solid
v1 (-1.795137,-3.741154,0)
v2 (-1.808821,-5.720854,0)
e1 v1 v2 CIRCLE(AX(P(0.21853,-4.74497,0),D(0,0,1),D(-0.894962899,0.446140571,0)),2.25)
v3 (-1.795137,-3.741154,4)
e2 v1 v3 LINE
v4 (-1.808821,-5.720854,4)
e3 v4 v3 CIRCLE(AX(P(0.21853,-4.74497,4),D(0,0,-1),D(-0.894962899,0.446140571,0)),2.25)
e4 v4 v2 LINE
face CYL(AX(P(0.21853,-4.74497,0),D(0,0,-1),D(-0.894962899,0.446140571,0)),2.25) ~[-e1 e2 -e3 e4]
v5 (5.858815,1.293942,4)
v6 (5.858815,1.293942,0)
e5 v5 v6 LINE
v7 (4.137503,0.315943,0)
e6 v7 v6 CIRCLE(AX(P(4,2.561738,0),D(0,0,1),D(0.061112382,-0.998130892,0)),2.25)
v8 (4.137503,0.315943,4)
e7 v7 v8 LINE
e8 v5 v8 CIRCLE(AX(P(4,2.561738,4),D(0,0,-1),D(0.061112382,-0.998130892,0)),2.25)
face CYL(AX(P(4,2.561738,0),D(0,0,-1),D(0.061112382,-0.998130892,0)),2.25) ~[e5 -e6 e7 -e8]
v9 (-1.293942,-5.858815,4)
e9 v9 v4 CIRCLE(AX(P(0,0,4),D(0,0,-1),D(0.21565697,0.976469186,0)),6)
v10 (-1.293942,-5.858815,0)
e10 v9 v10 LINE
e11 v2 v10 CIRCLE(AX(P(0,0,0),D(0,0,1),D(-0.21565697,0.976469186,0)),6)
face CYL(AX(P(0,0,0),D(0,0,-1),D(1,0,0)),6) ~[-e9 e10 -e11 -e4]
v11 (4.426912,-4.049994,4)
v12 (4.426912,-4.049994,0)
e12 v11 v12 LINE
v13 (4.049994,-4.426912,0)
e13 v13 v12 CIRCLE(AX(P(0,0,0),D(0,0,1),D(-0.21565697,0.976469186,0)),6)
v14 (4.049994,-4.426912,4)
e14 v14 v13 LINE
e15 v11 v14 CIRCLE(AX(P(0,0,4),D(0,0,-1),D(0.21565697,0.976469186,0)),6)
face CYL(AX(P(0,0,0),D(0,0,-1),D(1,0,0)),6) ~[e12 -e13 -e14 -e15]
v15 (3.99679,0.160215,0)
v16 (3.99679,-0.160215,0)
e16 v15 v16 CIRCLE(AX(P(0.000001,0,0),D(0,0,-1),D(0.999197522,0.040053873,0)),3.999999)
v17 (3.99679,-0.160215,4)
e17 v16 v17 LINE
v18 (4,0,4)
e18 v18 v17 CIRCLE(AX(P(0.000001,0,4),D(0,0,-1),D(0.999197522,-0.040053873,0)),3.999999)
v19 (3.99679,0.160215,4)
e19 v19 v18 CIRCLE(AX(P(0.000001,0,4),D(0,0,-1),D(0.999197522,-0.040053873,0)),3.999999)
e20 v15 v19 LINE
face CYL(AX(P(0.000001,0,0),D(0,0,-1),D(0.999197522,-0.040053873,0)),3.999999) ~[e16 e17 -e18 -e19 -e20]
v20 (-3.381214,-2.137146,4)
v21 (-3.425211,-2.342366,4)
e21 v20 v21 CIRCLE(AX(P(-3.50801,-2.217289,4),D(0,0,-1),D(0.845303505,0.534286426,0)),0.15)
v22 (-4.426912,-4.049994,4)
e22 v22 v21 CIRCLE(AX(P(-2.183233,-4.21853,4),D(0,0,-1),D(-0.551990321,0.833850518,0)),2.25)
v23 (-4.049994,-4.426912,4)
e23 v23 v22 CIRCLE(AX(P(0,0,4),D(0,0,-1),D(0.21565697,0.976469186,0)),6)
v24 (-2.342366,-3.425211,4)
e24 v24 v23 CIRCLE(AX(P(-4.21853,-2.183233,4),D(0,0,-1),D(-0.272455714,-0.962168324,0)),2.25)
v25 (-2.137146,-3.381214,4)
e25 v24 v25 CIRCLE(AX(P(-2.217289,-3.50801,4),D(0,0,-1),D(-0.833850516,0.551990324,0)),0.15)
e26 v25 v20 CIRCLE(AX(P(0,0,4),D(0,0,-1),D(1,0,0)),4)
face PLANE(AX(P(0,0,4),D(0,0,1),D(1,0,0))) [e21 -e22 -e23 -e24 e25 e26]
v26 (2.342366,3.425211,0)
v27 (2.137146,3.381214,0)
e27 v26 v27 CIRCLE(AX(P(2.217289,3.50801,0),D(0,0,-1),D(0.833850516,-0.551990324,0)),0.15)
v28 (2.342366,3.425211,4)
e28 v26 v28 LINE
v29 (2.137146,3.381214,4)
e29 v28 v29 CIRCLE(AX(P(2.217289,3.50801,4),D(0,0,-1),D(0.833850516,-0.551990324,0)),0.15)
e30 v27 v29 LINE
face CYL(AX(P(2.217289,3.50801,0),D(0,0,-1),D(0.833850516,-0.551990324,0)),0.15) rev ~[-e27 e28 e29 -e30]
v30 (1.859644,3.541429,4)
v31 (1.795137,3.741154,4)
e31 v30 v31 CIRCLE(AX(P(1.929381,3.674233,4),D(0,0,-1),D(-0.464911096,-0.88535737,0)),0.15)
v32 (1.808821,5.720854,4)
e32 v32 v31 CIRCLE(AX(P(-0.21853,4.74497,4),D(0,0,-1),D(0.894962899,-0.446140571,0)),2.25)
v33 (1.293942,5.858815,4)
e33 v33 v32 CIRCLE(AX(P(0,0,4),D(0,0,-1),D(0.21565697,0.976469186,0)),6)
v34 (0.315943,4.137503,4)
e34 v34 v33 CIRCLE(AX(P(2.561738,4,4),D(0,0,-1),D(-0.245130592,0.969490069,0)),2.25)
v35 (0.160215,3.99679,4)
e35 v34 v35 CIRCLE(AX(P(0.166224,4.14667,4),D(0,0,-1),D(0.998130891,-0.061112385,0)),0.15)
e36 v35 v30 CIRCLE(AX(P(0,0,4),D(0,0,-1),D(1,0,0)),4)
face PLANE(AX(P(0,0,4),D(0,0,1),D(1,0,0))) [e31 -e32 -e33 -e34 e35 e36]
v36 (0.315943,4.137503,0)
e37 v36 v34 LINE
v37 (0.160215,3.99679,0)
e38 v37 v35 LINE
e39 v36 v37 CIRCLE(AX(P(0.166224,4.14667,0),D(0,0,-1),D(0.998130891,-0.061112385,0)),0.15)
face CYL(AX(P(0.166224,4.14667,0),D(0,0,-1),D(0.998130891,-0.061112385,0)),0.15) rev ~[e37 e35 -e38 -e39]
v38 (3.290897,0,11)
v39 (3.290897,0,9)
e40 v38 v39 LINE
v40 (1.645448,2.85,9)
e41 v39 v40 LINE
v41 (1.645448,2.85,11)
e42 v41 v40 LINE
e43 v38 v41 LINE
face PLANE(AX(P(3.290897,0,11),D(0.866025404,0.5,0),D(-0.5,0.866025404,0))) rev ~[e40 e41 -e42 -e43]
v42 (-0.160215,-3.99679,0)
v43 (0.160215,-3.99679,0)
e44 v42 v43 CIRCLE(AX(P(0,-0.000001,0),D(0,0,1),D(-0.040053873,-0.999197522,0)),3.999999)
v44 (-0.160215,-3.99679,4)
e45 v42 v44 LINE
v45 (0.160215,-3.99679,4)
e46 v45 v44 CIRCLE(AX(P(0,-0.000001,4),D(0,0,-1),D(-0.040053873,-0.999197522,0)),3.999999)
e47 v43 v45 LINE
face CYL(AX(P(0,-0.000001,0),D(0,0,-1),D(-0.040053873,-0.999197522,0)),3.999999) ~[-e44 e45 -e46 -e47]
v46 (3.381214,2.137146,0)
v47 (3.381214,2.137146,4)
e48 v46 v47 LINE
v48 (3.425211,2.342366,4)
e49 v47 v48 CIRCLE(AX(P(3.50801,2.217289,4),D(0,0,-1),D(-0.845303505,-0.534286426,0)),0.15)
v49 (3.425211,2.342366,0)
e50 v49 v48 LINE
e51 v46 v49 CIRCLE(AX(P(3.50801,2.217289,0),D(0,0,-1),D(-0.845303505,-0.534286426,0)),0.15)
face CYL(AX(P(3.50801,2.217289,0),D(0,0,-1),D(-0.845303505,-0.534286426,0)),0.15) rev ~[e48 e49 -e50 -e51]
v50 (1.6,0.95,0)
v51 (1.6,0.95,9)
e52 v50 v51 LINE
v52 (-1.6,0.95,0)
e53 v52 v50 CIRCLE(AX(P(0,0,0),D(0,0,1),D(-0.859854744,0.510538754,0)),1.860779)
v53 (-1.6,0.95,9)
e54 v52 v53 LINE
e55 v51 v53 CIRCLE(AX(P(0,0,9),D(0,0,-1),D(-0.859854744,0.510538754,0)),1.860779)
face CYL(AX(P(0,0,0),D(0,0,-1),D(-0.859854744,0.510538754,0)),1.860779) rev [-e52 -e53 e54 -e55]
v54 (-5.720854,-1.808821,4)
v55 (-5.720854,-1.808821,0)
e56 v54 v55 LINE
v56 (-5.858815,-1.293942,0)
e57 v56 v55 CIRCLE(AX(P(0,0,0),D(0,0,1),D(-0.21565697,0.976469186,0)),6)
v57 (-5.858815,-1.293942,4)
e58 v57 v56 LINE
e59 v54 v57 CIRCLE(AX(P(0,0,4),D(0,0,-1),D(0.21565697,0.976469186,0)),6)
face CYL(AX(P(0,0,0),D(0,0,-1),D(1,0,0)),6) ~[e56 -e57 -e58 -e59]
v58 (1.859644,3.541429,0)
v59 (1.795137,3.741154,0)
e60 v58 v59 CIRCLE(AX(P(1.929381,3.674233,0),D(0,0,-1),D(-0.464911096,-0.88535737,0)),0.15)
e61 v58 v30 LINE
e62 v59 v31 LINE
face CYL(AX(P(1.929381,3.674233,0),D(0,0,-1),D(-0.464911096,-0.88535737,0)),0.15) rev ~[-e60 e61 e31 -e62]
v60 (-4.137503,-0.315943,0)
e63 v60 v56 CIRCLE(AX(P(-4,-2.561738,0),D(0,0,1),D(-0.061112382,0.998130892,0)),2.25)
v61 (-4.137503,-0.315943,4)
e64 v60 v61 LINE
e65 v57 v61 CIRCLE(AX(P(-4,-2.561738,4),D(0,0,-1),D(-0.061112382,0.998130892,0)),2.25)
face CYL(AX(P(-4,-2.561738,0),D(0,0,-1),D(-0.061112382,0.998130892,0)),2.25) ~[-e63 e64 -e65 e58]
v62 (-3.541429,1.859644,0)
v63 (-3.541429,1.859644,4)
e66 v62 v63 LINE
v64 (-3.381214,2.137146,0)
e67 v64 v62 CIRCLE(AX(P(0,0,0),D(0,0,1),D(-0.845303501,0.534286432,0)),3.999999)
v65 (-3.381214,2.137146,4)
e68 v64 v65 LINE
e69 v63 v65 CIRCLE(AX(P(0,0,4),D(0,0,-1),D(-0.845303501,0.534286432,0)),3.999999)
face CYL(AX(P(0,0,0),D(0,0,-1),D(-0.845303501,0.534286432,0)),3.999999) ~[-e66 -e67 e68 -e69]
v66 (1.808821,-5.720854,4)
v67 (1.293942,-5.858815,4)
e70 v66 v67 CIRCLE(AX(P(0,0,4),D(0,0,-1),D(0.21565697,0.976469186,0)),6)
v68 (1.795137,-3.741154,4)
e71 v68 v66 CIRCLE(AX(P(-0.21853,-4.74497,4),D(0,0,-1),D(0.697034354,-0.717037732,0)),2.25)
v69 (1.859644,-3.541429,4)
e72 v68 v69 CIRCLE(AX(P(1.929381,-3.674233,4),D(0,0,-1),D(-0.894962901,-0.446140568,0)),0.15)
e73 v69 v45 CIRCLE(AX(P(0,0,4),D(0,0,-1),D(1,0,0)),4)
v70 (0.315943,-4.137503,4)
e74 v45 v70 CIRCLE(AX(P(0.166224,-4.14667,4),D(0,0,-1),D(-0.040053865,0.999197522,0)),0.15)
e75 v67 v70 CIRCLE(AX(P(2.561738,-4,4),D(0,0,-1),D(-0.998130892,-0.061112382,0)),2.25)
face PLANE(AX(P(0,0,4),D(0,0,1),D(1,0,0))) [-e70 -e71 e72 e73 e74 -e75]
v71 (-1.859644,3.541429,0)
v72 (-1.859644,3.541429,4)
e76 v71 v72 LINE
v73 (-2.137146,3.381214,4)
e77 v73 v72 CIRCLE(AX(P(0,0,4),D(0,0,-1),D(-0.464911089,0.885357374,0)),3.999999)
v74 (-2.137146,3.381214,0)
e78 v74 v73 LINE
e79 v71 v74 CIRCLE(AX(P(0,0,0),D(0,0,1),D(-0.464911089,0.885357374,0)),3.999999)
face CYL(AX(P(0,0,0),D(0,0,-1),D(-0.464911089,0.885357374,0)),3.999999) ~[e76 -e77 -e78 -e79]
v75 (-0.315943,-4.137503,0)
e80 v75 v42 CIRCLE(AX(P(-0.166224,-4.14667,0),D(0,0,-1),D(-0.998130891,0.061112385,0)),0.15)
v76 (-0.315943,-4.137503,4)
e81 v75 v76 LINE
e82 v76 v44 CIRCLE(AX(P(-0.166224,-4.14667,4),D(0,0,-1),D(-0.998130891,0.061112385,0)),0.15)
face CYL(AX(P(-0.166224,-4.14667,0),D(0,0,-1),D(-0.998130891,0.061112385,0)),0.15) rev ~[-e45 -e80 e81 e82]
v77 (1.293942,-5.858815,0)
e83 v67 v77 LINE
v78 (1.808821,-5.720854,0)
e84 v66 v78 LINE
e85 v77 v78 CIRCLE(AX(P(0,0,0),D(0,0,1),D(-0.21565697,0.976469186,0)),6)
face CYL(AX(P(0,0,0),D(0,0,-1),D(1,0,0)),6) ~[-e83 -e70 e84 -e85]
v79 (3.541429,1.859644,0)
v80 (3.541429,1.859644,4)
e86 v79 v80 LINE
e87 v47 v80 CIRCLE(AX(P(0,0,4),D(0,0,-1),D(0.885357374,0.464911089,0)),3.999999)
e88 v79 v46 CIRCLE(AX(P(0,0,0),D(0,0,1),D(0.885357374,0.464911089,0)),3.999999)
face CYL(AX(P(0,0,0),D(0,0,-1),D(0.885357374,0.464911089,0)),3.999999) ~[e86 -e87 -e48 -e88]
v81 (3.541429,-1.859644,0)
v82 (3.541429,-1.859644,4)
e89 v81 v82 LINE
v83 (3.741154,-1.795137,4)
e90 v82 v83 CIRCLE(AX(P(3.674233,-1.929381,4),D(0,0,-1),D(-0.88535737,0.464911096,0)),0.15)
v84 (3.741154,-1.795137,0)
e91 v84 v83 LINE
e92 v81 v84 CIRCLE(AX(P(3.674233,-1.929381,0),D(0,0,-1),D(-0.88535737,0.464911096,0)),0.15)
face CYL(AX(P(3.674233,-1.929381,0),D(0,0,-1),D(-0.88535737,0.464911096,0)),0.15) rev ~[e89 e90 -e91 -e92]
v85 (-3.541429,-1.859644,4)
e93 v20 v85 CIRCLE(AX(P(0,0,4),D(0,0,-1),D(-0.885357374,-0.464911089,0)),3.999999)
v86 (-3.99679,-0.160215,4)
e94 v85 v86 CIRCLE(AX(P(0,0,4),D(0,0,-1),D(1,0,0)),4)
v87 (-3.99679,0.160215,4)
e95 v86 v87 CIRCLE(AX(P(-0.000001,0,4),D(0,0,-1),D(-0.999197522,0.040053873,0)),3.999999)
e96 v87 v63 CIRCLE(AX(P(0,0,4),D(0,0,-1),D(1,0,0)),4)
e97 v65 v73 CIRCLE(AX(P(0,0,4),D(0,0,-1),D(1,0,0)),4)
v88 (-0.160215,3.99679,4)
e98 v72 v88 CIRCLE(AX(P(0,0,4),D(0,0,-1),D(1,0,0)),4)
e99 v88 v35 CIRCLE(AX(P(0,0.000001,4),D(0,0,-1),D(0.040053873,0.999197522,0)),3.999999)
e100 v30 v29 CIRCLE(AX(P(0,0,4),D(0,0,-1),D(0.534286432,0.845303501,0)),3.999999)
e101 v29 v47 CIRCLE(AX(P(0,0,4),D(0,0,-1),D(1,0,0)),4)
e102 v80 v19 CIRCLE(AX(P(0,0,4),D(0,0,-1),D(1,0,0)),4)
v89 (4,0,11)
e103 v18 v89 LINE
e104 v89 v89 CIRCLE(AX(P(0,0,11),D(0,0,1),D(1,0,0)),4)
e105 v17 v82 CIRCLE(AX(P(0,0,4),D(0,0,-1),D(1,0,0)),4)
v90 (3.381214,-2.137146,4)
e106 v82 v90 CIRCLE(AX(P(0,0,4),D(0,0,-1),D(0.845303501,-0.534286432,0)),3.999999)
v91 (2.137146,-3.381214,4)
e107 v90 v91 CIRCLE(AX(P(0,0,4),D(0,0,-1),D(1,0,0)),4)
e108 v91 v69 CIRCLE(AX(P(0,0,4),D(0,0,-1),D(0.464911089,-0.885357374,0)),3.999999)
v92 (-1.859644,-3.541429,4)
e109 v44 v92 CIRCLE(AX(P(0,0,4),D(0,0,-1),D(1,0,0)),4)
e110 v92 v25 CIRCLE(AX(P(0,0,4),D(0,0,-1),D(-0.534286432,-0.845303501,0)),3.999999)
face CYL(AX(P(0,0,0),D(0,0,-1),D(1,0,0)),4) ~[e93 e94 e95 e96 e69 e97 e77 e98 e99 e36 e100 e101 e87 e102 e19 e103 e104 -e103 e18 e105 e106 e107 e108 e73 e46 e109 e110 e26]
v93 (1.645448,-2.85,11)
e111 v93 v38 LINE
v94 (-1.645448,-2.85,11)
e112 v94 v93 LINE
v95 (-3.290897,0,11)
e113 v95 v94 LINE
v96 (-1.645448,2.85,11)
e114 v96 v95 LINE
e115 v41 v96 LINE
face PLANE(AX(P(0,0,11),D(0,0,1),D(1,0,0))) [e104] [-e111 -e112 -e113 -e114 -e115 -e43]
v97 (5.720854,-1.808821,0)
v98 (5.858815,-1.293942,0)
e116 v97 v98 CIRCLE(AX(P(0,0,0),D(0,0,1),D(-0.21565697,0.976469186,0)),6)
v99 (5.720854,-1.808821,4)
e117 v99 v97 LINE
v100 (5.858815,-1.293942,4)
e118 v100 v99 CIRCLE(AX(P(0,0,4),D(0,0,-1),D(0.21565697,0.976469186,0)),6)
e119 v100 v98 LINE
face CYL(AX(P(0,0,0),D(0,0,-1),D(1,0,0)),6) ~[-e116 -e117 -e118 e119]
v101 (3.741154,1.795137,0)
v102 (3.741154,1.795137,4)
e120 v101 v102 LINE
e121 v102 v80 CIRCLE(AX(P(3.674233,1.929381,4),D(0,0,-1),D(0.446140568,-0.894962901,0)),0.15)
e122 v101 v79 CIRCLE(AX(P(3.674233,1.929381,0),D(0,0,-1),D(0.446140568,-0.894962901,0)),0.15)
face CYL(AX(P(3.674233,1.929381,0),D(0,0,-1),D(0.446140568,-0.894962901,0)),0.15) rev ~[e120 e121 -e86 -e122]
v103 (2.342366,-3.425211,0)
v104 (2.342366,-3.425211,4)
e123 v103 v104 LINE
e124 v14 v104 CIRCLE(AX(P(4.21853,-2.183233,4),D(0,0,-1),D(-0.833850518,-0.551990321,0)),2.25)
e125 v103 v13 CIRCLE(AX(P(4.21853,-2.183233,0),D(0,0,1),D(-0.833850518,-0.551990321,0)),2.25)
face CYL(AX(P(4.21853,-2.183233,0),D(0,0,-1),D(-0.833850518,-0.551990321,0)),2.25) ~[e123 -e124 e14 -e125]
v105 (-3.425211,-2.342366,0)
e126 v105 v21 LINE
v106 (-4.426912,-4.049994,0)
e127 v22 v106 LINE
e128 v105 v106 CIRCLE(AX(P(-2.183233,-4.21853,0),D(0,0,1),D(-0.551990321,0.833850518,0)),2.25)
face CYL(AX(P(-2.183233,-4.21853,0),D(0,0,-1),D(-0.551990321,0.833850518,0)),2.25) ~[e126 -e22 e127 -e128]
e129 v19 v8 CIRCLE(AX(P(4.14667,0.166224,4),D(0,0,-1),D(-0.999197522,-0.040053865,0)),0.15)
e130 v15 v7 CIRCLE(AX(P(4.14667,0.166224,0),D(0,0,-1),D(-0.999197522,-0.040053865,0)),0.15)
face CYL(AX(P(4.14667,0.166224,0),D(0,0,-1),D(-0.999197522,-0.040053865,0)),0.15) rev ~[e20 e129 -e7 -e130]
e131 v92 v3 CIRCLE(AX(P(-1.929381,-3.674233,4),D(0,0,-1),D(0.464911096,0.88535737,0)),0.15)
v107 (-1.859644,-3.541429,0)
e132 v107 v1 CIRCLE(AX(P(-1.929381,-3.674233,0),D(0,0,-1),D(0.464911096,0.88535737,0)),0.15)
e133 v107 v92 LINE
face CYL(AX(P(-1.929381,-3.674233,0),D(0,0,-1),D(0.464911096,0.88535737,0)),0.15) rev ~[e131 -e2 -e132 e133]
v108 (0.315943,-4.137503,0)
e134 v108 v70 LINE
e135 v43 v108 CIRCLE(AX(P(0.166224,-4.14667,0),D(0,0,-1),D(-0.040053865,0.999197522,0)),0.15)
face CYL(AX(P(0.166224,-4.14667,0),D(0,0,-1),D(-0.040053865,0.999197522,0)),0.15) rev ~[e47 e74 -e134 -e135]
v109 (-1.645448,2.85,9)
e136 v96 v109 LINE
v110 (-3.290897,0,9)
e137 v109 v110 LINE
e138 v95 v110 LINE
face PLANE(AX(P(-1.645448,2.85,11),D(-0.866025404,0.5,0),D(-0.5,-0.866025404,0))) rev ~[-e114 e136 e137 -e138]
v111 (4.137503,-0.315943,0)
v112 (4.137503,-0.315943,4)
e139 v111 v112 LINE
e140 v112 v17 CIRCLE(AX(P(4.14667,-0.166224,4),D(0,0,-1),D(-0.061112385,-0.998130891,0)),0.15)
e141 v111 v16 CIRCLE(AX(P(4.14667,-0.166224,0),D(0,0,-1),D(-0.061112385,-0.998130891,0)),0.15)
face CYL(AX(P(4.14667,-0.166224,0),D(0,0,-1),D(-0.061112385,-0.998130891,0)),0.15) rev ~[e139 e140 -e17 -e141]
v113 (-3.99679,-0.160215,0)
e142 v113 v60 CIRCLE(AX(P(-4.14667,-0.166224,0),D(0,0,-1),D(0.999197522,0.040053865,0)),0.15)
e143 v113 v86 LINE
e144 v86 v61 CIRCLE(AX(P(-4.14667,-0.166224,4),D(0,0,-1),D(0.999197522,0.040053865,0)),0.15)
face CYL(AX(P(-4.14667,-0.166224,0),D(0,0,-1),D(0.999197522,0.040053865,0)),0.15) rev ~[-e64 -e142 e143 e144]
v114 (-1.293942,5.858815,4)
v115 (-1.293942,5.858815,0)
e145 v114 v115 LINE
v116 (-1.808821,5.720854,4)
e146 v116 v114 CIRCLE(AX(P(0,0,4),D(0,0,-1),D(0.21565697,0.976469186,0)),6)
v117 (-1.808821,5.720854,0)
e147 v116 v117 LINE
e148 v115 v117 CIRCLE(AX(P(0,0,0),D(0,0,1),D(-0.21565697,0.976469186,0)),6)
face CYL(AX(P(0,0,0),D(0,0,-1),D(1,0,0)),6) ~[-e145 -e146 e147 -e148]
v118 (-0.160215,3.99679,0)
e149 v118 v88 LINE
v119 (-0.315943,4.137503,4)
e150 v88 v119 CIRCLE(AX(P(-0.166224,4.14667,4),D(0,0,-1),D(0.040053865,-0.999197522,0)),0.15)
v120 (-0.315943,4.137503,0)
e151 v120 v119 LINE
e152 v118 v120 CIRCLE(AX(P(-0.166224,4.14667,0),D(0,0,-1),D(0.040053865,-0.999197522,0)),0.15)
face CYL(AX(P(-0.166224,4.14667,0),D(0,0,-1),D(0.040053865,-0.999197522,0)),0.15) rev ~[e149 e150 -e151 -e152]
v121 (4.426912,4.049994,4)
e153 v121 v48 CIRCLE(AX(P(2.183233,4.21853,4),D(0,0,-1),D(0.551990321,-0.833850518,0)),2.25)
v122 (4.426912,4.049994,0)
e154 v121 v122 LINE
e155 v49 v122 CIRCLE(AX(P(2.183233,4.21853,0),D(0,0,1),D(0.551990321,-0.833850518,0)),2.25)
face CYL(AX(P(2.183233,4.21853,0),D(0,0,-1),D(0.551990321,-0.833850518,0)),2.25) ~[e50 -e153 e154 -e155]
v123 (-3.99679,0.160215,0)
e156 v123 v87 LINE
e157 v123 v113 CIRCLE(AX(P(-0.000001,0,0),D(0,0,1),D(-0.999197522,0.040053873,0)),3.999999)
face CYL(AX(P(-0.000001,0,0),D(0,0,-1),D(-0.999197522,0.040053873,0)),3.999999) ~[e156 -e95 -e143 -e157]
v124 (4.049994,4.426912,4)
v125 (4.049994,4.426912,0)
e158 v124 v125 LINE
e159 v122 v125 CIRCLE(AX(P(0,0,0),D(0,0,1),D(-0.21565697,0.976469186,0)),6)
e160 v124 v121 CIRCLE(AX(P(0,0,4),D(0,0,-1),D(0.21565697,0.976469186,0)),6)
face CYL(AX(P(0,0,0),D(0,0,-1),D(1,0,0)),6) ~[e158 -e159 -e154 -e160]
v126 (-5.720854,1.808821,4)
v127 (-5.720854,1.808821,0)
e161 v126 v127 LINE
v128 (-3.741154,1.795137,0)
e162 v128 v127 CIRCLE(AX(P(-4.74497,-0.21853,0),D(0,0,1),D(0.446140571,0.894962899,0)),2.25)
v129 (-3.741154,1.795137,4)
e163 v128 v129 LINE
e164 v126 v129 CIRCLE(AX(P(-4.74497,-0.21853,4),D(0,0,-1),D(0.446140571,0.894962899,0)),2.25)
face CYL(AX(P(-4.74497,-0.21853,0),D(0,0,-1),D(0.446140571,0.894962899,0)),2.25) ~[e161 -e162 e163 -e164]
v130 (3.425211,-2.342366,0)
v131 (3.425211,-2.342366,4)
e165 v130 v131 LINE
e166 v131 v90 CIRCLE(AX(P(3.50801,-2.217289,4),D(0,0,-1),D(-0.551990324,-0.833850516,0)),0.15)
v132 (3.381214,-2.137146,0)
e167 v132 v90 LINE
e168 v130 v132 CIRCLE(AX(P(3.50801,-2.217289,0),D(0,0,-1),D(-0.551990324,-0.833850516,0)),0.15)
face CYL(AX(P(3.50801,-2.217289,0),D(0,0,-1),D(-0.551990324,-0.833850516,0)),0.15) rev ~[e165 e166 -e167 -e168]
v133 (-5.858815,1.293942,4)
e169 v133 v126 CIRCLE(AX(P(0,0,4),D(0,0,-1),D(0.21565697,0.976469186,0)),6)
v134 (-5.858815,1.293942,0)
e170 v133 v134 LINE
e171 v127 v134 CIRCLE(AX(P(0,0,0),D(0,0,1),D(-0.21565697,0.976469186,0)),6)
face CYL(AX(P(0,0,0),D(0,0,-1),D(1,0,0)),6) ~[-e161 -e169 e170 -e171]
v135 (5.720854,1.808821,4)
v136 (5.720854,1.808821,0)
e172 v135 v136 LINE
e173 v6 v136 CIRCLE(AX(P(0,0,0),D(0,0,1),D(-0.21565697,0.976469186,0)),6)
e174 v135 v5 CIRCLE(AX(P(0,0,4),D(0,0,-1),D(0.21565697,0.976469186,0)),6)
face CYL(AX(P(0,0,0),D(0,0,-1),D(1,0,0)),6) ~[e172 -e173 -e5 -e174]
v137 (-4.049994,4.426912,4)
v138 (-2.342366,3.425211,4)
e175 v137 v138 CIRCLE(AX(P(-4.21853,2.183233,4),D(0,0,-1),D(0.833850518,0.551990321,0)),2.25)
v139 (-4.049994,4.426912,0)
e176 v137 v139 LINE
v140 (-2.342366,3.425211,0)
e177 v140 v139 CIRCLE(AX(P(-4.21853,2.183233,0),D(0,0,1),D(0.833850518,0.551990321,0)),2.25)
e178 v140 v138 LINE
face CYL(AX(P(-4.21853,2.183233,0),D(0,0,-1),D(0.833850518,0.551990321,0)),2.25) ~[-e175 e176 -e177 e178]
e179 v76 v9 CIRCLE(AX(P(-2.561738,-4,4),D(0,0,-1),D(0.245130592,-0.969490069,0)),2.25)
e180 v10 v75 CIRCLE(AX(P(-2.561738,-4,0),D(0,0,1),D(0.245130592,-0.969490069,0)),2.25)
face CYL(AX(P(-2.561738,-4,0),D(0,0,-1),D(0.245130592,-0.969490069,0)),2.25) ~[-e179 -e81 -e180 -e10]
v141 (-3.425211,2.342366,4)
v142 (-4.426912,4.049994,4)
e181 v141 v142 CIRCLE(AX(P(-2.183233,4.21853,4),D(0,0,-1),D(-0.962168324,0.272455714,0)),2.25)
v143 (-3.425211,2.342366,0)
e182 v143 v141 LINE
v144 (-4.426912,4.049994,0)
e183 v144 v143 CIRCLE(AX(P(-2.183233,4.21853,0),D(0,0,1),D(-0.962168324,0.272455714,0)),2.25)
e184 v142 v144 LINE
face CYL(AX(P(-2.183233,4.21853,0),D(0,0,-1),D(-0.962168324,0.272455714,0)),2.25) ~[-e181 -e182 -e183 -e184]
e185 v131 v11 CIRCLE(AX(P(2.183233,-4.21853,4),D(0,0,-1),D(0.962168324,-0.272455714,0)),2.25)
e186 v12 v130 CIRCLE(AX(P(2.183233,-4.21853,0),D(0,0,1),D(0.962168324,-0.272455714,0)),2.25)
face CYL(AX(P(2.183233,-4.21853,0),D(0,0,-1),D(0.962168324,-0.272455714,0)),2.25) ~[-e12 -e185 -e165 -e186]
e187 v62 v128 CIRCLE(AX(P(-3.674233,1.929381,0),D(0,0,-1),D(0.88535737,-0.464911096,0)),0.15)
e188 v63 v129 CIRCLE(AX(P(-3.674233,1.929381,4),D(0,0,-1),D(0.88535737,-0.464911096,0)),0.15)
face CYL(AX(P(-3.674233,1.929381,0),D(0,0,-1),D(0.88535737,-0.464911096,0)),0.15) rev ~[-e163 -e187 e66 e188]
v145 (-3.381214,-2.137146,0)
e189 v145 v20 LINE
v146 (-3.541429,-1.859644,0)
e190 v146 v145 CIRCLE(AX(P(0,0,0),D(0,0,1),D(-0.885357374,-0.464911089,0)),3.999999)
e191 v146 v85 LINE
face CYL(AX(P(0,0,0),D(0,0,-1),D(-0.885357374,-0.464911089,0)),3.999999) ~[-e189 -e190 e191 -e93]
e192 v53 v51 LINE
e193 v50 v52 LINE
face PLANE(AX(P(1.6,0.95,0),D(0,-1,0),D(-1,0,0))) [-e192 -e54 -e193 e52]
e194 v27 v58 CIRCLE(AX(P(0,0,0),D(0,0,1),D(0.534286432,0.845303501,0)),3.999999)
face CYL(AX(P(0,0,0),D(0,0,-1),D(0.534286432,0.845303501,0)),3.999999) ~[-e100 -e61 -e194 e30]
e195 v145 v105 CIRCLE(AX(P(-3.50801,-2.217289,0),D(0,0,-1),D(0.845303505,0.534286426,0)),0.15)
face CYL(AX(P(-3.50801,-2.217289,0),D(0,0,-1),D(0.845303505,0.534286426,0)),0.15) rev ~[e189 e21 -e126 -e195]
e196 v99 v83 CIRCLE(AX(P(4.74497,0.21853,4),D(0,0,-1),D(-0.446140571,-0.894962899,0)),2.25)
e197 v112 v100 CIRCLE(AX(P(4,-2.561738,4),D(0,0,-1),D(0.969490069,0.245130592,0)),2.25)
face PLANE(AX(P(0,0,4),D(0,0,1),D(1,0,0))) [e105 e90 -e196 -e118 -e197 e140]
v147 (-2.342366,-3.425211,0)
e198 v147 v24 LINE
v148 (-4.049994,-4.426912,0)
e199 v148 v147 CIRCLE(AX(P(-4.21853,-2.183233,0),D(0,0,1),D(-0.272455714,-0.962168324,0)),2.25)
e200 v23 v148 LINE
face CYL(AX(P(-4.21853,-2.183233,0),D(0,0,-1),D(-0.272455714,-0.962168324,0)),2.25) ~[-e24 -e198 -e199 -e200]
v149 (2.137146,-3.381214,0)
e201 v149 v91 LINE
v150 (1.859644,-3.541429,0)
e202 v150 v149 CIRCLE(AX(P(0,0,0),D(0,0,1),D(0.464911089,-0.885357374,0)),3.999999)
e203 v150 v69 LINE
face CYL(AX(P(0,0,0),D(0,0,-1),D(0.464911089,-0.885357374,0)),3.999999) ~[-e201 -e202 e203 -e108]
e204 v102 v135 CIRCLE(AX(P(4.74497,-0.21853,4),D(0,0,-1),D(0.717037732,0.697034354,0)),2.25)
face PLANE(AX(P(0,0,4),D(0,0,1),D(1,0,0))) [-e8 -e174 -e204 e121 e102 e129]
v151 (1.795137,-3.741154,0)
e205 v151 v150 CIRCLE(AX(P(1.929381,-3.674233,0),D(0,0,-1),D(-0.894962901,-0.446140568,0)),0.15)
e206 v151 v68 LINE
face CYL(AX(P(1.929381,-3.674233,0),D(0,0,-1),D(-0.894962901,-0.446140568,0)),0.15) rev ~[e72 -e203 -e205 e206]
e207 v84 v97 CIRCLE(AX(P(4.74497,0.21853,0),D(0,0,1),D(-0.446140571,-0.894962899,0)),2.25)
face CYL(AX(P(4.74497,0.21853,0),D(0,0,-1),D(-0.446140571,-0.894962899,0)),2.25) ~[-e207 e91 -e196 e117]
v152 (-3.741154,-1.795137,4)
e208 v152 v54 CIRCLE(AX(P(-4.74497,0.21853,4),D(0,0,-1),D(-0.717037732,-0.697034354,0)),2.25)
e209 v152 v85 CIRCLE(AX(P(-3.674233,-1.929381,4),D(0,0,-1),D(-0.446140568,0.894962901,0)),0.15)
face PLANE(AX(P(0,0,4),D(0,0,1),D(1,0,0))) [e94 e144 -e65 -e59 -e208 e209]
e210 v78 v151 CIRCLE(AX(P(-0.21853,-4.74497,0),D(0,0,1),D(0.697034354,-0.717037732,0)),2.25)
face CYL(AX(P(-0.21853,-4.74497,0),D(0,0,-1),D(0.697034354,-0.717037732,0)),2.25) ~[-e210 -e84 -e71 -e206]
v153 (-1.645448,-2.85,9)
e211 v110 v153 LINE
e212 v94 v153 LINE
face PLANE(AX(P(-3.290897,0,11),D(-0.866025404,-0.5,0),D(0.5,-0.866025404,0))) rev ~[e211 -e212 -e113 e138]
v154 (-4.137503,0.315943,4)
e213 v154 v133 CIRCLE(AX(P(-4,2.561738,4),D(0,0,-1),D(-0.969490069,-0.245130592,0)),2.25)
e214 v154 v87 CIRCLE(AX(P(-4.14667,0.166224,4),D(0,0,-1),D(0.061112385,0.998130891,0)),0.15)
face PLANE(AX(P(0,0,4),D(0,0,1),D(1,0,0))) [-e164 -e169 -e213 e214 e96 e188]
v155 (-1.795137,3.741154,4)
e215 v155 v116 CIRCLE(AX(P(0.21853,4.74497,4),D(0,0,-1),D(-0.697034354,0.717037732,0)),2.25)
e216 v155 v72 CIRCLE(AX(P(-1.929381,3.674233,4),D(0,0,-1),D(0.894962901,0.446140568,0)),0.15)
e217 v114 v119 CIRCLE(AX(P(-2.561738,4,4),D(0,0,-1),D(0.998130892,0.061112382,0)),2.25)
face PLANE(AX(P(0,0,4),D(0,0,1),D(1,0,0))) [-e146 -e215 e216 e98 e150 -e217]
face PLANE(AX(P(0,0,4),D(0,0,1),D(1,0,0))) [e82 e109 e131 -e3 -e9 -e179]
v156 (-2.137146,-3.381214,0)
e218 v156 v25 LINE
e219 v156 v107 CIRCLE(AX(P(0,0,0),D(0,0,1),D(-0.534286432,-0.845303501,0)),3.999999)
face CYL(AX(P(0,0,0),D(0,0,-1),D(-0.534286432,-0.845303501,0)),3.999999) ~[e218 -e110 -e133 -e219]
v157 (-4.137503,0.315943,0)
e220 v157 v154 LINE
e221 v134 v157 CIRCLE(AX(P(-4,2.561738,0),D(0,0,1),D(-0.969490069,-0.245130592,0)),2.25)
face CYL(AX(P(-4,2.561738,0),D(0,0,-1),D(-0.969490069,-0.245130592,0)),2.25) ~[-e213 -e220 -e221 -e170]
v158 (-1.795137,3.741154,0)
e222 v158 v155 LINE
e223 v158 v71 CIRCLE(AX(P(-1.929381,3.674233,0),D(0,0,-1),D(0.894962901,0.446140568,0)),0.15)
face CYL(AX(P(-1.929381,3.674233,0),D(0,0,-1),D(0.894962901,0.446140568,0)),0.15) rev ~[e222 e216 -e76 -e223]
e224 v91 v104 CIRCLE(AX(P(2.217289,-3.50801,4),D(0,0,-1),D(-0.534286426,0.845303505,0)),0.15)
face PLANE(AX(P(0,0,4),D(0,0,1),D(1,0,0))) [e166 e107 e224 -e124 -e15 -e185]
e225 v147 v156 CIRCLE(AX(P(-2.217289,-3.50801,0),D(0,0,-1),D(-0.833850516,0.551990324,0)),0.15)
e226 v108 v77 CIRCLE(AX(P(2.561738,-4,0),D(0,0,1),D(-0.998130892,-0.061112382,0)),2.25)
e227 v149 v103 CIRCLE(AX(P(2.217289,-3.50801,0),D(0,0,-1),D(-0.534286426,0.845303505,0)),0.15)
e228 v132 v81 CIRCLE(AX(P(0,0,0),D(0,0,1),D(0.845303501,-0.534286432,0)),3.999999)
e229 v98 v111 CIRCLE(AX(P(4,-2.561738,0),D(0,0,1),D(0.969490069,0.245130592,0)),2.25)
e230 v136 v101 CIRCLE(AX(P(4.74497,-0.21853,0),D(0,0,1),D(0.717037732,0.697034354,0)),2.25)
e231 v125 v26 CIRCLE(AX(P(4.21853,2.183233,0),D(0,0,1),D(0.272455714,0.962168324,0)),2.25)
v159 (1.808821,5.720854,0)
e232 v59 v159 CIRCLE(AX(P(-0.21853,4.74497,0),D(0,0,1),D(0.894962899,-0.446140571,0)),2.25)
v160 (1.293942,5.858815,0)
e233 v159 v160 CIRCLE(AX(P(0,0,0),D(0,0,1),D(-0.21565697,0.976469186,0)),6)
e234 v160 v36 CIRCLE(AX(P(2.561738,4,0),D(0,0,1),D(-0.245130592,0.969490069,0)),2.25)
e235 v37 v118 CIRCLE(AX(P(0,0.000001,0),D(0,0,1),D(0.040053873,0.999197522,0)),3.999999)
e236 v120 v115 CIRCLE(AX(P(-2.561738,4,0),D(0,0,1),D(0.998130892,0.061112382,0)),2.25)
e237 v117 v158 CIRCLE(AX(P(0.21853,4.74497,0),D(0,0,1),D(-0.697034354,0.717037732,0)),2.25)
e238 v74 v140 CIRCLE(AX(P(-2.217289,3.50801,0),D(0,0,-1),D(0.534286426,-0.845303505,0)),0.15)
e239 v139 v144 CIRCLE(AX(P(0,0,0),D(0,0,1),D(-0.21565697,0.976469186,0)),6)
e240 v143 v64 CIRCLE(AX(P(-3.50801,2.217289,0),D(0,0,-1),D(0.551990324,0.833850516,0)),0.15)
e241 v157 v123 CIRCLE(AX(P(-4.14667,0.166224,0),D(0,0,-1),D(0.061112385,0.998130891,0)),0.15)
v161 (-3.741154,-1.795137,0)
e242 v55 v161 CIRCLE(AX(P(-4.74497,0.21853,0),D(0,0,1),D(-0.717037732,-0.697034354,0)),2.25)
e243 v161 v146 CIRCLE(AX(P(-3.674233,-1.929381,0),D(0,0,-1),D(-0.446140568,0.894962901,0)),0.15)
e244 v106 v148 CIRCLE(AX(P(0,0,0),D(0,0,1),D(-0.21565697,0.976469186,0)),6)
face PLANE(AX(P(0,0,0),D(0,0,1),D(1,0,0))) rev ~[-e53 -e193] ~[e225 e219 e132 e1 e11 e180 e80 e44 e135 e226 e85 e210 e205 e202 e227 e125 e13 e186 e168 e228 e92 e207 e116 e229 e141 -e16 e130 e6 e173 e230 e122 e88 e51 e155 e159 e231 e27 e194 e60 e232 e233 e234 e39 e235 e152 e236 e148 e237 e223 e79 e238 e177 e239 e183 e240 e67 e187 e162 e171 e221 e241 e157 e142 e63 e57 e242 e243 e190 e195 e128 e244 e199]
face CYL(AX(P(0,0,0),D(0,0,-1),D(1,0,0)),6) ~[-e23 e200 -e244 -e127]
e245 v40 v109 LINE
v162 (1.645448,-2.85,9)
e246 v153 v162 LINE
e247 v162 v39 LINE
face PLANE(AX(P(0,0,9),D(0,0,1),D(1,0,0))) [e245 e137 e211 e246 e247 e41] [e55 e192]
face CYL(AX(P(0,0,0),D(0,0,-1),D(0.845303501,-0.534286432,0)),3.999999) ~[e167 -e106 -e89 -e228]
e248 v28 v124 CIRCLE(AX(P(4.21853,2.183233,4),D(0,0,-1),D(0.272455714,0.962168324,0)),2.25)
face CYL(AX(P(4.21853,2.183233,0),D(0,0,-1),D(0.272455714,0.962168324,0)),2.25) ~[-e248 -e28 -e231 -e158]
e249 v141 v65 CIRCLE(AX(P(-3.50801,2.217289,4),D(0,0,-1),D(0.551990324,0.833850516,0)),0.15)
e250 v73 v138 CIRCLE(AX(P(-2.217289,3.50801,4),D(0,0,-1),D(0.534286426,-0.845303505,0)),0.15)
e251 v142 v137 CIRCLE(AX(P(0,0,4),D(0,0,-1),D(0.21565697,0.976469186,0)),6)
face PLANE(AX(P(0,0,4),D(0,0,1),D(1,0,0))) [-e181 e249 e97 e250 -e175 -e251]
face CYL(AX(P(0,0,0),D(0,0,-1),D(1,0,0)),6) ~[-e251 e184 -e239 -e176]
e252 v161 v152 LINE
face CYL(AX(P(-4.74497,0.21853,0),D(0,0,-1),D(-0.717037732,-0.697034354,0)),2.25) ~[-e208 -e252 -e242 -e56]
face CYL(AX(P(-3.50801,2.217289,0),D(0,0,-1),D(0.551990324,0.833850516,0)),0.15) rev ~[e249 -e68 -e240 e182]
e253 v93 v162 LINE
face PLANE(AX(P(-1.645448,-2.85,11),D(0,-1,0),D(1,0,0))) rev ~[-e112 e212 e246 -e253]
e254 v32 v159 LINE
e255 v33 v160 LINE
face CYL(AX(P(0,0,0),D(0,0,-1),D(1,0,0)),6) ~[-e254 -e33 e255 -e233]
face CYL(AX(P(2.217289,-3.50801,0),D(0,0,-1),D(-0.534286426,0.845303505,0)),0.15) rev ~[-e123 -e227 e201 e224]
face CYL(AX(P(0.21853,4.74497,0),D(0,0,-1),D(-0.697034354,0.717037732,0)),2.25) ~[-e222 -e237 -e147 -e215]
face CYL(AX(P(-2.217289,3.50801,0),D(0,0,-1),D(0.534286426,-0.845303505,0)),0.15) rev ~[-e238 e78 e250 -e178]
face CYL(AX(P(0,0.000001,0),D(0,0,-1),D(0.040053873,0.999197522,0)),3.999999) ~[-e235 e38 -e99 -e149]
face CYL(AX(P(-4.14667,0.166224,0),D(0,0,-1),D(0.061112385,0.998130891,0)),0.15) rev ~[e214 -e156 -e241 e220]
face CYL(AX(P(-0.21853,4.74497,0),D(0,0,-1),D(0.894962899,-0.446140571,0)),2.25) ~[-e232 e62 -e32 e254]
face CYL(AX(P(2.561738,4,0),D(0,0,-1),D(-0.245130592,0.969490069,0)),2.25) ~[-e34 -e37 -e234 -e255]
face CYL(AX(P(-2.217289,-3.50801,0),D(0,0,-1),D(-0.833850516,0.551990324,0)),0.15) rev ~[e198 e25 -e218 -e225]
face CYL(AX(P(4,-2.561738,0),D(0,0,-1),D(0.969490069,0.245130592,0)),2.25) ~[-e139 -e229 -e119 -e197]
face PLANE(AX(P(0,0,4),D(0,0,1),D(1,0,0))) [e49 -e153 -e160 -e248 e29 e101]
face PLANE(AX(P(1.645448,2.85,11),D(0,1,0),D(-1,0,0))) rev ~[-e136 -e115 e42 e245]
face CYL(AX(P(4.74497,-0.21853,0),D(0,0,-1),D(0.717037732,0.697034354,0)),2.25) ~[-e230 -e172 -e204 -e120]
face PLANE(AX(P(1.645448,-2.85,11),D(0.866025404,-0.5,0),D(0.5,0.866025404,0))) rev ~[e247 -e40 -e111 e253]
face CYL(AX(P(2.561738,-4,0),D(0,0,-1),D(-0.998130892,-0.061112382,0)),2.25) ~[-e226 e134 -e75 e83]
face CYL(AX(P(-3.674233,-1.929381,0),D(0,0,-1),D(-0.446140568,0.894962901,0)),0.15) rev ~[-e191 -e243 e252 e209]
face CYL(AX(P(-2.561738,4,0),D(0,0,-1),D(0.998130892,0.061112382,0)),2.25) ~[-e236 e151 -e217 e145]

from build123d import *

# Parameters (mm, degrees)
SKETCH1_R           = 6
SKETCH1_R_2         = 2
BOSS_EXTRUDE1_DEPTH = 4
CUT_EXTRUDE2_DEPTH  = 5
CIRPATTERN2_COUNT   = 12
SKETCH11_R          = 4
BOSS_EXTRUDE2_DEPTH = 11
CUT_EXTRUDE3_START  = 11
CUT_EXTRUDE3_DEPTH  = 2
CUT_EXTRUDE4_DEPTH  = 12


with BuildPart() as part:
    # Sketch1 → Boss-Extrude1 (new body)
    with BuildSketch(Plane.XY):
        Circle(SKETCH1_R)
        Circle(SKETCH1_R_2, mode=Mode.SUBTRACT)
    extrude(amount=BOSS_EXTRUDE1_DEPTH)

    # Sketch4 → Cut-Extrude2 (cut, through all)
    with BuildSketch(Plane.XY):
        with BuildLine():
            ThreePointArc((-0.160215471, 3.996790087), (-0.266788325, 4.035374045), (-0.315943185, 4.137502858))
            ThreePointArc((-0.315943185, 4.137502858), (-0.829511973, 5.435929685), (-2.010193861, 6.181352655))
            ThreePointArc((-2.010193861, 6.181352655), (0, 6.5), (2.010193861, 6.181352655))
            ThreePointArc((2.010193861, 6.181352655), (0.829511973, 5.435929685), (0.315943185, 4.137502858))
            ThreePointArc((0.315943185, 4.137502858), (0.266788325, 4.035374045), (0.160215471, 3.996790087))
            ThreePointArc((0.160215471, 3.996790087), (0, 4), (-0.160215471, 3.996790087))
        make_face()
    cut_extrude2 = extrude(amount=CUT_EXTRUDE2_DEPTH, mode=Mode.SUBTRACT)

    # CirPattern2: Cut-Extrude2 ×12 about axis
    cirpattern2_axis = Axis((0, 0, 0), (0, 0, 1))
    for i in range(1, CIRPATTERN2_COUNT):
        add(cut_extrude2.rotate(cirpattern2_axis, i * 360 / CIRPATTERN2_COUNT), mode=Mode.SUBTRACT)

    # Sketch11 → Boss-Extrude2 (add)
    with BuildSketch(Plane.XY):
        Circle(SKETCH11_R)
    extrude(amount=BOSS_EXTRUDE2_DEPTH)

    # Sketch12 → Cut-Extrude3 (cut)
    with BuildSketch(Plane.XY.offset(CUT_EXTRUDE3_START)):
        Polygon((3.290896534, 0), (1.645448267, 2.85), (-1.645448267, 2.85), (-3.290896534, 0), (-1.645448267, -2.85), (1.645448267, -2.85), align=None)
    extrude(amount=-CUT_EXTRUDE3_DEPTH, mode=Mode.SUBTRACT)

    # Sketch13 → Cut-Extrude4 (cut, through all)
    with BuildSketch(Plane.XY):
        with BuildLine():
            Line((1.6, 0.95), (-1.6, 0.95))
            ThreePointArc((-1.6, 0.95), (0, -1.860779407), (1.6, 0.95))
        make_face()
    extrude(amount=CUT_EXTRUDE4_DEPTH, mode=Mode.SUBTRACT)


solid = part.part
